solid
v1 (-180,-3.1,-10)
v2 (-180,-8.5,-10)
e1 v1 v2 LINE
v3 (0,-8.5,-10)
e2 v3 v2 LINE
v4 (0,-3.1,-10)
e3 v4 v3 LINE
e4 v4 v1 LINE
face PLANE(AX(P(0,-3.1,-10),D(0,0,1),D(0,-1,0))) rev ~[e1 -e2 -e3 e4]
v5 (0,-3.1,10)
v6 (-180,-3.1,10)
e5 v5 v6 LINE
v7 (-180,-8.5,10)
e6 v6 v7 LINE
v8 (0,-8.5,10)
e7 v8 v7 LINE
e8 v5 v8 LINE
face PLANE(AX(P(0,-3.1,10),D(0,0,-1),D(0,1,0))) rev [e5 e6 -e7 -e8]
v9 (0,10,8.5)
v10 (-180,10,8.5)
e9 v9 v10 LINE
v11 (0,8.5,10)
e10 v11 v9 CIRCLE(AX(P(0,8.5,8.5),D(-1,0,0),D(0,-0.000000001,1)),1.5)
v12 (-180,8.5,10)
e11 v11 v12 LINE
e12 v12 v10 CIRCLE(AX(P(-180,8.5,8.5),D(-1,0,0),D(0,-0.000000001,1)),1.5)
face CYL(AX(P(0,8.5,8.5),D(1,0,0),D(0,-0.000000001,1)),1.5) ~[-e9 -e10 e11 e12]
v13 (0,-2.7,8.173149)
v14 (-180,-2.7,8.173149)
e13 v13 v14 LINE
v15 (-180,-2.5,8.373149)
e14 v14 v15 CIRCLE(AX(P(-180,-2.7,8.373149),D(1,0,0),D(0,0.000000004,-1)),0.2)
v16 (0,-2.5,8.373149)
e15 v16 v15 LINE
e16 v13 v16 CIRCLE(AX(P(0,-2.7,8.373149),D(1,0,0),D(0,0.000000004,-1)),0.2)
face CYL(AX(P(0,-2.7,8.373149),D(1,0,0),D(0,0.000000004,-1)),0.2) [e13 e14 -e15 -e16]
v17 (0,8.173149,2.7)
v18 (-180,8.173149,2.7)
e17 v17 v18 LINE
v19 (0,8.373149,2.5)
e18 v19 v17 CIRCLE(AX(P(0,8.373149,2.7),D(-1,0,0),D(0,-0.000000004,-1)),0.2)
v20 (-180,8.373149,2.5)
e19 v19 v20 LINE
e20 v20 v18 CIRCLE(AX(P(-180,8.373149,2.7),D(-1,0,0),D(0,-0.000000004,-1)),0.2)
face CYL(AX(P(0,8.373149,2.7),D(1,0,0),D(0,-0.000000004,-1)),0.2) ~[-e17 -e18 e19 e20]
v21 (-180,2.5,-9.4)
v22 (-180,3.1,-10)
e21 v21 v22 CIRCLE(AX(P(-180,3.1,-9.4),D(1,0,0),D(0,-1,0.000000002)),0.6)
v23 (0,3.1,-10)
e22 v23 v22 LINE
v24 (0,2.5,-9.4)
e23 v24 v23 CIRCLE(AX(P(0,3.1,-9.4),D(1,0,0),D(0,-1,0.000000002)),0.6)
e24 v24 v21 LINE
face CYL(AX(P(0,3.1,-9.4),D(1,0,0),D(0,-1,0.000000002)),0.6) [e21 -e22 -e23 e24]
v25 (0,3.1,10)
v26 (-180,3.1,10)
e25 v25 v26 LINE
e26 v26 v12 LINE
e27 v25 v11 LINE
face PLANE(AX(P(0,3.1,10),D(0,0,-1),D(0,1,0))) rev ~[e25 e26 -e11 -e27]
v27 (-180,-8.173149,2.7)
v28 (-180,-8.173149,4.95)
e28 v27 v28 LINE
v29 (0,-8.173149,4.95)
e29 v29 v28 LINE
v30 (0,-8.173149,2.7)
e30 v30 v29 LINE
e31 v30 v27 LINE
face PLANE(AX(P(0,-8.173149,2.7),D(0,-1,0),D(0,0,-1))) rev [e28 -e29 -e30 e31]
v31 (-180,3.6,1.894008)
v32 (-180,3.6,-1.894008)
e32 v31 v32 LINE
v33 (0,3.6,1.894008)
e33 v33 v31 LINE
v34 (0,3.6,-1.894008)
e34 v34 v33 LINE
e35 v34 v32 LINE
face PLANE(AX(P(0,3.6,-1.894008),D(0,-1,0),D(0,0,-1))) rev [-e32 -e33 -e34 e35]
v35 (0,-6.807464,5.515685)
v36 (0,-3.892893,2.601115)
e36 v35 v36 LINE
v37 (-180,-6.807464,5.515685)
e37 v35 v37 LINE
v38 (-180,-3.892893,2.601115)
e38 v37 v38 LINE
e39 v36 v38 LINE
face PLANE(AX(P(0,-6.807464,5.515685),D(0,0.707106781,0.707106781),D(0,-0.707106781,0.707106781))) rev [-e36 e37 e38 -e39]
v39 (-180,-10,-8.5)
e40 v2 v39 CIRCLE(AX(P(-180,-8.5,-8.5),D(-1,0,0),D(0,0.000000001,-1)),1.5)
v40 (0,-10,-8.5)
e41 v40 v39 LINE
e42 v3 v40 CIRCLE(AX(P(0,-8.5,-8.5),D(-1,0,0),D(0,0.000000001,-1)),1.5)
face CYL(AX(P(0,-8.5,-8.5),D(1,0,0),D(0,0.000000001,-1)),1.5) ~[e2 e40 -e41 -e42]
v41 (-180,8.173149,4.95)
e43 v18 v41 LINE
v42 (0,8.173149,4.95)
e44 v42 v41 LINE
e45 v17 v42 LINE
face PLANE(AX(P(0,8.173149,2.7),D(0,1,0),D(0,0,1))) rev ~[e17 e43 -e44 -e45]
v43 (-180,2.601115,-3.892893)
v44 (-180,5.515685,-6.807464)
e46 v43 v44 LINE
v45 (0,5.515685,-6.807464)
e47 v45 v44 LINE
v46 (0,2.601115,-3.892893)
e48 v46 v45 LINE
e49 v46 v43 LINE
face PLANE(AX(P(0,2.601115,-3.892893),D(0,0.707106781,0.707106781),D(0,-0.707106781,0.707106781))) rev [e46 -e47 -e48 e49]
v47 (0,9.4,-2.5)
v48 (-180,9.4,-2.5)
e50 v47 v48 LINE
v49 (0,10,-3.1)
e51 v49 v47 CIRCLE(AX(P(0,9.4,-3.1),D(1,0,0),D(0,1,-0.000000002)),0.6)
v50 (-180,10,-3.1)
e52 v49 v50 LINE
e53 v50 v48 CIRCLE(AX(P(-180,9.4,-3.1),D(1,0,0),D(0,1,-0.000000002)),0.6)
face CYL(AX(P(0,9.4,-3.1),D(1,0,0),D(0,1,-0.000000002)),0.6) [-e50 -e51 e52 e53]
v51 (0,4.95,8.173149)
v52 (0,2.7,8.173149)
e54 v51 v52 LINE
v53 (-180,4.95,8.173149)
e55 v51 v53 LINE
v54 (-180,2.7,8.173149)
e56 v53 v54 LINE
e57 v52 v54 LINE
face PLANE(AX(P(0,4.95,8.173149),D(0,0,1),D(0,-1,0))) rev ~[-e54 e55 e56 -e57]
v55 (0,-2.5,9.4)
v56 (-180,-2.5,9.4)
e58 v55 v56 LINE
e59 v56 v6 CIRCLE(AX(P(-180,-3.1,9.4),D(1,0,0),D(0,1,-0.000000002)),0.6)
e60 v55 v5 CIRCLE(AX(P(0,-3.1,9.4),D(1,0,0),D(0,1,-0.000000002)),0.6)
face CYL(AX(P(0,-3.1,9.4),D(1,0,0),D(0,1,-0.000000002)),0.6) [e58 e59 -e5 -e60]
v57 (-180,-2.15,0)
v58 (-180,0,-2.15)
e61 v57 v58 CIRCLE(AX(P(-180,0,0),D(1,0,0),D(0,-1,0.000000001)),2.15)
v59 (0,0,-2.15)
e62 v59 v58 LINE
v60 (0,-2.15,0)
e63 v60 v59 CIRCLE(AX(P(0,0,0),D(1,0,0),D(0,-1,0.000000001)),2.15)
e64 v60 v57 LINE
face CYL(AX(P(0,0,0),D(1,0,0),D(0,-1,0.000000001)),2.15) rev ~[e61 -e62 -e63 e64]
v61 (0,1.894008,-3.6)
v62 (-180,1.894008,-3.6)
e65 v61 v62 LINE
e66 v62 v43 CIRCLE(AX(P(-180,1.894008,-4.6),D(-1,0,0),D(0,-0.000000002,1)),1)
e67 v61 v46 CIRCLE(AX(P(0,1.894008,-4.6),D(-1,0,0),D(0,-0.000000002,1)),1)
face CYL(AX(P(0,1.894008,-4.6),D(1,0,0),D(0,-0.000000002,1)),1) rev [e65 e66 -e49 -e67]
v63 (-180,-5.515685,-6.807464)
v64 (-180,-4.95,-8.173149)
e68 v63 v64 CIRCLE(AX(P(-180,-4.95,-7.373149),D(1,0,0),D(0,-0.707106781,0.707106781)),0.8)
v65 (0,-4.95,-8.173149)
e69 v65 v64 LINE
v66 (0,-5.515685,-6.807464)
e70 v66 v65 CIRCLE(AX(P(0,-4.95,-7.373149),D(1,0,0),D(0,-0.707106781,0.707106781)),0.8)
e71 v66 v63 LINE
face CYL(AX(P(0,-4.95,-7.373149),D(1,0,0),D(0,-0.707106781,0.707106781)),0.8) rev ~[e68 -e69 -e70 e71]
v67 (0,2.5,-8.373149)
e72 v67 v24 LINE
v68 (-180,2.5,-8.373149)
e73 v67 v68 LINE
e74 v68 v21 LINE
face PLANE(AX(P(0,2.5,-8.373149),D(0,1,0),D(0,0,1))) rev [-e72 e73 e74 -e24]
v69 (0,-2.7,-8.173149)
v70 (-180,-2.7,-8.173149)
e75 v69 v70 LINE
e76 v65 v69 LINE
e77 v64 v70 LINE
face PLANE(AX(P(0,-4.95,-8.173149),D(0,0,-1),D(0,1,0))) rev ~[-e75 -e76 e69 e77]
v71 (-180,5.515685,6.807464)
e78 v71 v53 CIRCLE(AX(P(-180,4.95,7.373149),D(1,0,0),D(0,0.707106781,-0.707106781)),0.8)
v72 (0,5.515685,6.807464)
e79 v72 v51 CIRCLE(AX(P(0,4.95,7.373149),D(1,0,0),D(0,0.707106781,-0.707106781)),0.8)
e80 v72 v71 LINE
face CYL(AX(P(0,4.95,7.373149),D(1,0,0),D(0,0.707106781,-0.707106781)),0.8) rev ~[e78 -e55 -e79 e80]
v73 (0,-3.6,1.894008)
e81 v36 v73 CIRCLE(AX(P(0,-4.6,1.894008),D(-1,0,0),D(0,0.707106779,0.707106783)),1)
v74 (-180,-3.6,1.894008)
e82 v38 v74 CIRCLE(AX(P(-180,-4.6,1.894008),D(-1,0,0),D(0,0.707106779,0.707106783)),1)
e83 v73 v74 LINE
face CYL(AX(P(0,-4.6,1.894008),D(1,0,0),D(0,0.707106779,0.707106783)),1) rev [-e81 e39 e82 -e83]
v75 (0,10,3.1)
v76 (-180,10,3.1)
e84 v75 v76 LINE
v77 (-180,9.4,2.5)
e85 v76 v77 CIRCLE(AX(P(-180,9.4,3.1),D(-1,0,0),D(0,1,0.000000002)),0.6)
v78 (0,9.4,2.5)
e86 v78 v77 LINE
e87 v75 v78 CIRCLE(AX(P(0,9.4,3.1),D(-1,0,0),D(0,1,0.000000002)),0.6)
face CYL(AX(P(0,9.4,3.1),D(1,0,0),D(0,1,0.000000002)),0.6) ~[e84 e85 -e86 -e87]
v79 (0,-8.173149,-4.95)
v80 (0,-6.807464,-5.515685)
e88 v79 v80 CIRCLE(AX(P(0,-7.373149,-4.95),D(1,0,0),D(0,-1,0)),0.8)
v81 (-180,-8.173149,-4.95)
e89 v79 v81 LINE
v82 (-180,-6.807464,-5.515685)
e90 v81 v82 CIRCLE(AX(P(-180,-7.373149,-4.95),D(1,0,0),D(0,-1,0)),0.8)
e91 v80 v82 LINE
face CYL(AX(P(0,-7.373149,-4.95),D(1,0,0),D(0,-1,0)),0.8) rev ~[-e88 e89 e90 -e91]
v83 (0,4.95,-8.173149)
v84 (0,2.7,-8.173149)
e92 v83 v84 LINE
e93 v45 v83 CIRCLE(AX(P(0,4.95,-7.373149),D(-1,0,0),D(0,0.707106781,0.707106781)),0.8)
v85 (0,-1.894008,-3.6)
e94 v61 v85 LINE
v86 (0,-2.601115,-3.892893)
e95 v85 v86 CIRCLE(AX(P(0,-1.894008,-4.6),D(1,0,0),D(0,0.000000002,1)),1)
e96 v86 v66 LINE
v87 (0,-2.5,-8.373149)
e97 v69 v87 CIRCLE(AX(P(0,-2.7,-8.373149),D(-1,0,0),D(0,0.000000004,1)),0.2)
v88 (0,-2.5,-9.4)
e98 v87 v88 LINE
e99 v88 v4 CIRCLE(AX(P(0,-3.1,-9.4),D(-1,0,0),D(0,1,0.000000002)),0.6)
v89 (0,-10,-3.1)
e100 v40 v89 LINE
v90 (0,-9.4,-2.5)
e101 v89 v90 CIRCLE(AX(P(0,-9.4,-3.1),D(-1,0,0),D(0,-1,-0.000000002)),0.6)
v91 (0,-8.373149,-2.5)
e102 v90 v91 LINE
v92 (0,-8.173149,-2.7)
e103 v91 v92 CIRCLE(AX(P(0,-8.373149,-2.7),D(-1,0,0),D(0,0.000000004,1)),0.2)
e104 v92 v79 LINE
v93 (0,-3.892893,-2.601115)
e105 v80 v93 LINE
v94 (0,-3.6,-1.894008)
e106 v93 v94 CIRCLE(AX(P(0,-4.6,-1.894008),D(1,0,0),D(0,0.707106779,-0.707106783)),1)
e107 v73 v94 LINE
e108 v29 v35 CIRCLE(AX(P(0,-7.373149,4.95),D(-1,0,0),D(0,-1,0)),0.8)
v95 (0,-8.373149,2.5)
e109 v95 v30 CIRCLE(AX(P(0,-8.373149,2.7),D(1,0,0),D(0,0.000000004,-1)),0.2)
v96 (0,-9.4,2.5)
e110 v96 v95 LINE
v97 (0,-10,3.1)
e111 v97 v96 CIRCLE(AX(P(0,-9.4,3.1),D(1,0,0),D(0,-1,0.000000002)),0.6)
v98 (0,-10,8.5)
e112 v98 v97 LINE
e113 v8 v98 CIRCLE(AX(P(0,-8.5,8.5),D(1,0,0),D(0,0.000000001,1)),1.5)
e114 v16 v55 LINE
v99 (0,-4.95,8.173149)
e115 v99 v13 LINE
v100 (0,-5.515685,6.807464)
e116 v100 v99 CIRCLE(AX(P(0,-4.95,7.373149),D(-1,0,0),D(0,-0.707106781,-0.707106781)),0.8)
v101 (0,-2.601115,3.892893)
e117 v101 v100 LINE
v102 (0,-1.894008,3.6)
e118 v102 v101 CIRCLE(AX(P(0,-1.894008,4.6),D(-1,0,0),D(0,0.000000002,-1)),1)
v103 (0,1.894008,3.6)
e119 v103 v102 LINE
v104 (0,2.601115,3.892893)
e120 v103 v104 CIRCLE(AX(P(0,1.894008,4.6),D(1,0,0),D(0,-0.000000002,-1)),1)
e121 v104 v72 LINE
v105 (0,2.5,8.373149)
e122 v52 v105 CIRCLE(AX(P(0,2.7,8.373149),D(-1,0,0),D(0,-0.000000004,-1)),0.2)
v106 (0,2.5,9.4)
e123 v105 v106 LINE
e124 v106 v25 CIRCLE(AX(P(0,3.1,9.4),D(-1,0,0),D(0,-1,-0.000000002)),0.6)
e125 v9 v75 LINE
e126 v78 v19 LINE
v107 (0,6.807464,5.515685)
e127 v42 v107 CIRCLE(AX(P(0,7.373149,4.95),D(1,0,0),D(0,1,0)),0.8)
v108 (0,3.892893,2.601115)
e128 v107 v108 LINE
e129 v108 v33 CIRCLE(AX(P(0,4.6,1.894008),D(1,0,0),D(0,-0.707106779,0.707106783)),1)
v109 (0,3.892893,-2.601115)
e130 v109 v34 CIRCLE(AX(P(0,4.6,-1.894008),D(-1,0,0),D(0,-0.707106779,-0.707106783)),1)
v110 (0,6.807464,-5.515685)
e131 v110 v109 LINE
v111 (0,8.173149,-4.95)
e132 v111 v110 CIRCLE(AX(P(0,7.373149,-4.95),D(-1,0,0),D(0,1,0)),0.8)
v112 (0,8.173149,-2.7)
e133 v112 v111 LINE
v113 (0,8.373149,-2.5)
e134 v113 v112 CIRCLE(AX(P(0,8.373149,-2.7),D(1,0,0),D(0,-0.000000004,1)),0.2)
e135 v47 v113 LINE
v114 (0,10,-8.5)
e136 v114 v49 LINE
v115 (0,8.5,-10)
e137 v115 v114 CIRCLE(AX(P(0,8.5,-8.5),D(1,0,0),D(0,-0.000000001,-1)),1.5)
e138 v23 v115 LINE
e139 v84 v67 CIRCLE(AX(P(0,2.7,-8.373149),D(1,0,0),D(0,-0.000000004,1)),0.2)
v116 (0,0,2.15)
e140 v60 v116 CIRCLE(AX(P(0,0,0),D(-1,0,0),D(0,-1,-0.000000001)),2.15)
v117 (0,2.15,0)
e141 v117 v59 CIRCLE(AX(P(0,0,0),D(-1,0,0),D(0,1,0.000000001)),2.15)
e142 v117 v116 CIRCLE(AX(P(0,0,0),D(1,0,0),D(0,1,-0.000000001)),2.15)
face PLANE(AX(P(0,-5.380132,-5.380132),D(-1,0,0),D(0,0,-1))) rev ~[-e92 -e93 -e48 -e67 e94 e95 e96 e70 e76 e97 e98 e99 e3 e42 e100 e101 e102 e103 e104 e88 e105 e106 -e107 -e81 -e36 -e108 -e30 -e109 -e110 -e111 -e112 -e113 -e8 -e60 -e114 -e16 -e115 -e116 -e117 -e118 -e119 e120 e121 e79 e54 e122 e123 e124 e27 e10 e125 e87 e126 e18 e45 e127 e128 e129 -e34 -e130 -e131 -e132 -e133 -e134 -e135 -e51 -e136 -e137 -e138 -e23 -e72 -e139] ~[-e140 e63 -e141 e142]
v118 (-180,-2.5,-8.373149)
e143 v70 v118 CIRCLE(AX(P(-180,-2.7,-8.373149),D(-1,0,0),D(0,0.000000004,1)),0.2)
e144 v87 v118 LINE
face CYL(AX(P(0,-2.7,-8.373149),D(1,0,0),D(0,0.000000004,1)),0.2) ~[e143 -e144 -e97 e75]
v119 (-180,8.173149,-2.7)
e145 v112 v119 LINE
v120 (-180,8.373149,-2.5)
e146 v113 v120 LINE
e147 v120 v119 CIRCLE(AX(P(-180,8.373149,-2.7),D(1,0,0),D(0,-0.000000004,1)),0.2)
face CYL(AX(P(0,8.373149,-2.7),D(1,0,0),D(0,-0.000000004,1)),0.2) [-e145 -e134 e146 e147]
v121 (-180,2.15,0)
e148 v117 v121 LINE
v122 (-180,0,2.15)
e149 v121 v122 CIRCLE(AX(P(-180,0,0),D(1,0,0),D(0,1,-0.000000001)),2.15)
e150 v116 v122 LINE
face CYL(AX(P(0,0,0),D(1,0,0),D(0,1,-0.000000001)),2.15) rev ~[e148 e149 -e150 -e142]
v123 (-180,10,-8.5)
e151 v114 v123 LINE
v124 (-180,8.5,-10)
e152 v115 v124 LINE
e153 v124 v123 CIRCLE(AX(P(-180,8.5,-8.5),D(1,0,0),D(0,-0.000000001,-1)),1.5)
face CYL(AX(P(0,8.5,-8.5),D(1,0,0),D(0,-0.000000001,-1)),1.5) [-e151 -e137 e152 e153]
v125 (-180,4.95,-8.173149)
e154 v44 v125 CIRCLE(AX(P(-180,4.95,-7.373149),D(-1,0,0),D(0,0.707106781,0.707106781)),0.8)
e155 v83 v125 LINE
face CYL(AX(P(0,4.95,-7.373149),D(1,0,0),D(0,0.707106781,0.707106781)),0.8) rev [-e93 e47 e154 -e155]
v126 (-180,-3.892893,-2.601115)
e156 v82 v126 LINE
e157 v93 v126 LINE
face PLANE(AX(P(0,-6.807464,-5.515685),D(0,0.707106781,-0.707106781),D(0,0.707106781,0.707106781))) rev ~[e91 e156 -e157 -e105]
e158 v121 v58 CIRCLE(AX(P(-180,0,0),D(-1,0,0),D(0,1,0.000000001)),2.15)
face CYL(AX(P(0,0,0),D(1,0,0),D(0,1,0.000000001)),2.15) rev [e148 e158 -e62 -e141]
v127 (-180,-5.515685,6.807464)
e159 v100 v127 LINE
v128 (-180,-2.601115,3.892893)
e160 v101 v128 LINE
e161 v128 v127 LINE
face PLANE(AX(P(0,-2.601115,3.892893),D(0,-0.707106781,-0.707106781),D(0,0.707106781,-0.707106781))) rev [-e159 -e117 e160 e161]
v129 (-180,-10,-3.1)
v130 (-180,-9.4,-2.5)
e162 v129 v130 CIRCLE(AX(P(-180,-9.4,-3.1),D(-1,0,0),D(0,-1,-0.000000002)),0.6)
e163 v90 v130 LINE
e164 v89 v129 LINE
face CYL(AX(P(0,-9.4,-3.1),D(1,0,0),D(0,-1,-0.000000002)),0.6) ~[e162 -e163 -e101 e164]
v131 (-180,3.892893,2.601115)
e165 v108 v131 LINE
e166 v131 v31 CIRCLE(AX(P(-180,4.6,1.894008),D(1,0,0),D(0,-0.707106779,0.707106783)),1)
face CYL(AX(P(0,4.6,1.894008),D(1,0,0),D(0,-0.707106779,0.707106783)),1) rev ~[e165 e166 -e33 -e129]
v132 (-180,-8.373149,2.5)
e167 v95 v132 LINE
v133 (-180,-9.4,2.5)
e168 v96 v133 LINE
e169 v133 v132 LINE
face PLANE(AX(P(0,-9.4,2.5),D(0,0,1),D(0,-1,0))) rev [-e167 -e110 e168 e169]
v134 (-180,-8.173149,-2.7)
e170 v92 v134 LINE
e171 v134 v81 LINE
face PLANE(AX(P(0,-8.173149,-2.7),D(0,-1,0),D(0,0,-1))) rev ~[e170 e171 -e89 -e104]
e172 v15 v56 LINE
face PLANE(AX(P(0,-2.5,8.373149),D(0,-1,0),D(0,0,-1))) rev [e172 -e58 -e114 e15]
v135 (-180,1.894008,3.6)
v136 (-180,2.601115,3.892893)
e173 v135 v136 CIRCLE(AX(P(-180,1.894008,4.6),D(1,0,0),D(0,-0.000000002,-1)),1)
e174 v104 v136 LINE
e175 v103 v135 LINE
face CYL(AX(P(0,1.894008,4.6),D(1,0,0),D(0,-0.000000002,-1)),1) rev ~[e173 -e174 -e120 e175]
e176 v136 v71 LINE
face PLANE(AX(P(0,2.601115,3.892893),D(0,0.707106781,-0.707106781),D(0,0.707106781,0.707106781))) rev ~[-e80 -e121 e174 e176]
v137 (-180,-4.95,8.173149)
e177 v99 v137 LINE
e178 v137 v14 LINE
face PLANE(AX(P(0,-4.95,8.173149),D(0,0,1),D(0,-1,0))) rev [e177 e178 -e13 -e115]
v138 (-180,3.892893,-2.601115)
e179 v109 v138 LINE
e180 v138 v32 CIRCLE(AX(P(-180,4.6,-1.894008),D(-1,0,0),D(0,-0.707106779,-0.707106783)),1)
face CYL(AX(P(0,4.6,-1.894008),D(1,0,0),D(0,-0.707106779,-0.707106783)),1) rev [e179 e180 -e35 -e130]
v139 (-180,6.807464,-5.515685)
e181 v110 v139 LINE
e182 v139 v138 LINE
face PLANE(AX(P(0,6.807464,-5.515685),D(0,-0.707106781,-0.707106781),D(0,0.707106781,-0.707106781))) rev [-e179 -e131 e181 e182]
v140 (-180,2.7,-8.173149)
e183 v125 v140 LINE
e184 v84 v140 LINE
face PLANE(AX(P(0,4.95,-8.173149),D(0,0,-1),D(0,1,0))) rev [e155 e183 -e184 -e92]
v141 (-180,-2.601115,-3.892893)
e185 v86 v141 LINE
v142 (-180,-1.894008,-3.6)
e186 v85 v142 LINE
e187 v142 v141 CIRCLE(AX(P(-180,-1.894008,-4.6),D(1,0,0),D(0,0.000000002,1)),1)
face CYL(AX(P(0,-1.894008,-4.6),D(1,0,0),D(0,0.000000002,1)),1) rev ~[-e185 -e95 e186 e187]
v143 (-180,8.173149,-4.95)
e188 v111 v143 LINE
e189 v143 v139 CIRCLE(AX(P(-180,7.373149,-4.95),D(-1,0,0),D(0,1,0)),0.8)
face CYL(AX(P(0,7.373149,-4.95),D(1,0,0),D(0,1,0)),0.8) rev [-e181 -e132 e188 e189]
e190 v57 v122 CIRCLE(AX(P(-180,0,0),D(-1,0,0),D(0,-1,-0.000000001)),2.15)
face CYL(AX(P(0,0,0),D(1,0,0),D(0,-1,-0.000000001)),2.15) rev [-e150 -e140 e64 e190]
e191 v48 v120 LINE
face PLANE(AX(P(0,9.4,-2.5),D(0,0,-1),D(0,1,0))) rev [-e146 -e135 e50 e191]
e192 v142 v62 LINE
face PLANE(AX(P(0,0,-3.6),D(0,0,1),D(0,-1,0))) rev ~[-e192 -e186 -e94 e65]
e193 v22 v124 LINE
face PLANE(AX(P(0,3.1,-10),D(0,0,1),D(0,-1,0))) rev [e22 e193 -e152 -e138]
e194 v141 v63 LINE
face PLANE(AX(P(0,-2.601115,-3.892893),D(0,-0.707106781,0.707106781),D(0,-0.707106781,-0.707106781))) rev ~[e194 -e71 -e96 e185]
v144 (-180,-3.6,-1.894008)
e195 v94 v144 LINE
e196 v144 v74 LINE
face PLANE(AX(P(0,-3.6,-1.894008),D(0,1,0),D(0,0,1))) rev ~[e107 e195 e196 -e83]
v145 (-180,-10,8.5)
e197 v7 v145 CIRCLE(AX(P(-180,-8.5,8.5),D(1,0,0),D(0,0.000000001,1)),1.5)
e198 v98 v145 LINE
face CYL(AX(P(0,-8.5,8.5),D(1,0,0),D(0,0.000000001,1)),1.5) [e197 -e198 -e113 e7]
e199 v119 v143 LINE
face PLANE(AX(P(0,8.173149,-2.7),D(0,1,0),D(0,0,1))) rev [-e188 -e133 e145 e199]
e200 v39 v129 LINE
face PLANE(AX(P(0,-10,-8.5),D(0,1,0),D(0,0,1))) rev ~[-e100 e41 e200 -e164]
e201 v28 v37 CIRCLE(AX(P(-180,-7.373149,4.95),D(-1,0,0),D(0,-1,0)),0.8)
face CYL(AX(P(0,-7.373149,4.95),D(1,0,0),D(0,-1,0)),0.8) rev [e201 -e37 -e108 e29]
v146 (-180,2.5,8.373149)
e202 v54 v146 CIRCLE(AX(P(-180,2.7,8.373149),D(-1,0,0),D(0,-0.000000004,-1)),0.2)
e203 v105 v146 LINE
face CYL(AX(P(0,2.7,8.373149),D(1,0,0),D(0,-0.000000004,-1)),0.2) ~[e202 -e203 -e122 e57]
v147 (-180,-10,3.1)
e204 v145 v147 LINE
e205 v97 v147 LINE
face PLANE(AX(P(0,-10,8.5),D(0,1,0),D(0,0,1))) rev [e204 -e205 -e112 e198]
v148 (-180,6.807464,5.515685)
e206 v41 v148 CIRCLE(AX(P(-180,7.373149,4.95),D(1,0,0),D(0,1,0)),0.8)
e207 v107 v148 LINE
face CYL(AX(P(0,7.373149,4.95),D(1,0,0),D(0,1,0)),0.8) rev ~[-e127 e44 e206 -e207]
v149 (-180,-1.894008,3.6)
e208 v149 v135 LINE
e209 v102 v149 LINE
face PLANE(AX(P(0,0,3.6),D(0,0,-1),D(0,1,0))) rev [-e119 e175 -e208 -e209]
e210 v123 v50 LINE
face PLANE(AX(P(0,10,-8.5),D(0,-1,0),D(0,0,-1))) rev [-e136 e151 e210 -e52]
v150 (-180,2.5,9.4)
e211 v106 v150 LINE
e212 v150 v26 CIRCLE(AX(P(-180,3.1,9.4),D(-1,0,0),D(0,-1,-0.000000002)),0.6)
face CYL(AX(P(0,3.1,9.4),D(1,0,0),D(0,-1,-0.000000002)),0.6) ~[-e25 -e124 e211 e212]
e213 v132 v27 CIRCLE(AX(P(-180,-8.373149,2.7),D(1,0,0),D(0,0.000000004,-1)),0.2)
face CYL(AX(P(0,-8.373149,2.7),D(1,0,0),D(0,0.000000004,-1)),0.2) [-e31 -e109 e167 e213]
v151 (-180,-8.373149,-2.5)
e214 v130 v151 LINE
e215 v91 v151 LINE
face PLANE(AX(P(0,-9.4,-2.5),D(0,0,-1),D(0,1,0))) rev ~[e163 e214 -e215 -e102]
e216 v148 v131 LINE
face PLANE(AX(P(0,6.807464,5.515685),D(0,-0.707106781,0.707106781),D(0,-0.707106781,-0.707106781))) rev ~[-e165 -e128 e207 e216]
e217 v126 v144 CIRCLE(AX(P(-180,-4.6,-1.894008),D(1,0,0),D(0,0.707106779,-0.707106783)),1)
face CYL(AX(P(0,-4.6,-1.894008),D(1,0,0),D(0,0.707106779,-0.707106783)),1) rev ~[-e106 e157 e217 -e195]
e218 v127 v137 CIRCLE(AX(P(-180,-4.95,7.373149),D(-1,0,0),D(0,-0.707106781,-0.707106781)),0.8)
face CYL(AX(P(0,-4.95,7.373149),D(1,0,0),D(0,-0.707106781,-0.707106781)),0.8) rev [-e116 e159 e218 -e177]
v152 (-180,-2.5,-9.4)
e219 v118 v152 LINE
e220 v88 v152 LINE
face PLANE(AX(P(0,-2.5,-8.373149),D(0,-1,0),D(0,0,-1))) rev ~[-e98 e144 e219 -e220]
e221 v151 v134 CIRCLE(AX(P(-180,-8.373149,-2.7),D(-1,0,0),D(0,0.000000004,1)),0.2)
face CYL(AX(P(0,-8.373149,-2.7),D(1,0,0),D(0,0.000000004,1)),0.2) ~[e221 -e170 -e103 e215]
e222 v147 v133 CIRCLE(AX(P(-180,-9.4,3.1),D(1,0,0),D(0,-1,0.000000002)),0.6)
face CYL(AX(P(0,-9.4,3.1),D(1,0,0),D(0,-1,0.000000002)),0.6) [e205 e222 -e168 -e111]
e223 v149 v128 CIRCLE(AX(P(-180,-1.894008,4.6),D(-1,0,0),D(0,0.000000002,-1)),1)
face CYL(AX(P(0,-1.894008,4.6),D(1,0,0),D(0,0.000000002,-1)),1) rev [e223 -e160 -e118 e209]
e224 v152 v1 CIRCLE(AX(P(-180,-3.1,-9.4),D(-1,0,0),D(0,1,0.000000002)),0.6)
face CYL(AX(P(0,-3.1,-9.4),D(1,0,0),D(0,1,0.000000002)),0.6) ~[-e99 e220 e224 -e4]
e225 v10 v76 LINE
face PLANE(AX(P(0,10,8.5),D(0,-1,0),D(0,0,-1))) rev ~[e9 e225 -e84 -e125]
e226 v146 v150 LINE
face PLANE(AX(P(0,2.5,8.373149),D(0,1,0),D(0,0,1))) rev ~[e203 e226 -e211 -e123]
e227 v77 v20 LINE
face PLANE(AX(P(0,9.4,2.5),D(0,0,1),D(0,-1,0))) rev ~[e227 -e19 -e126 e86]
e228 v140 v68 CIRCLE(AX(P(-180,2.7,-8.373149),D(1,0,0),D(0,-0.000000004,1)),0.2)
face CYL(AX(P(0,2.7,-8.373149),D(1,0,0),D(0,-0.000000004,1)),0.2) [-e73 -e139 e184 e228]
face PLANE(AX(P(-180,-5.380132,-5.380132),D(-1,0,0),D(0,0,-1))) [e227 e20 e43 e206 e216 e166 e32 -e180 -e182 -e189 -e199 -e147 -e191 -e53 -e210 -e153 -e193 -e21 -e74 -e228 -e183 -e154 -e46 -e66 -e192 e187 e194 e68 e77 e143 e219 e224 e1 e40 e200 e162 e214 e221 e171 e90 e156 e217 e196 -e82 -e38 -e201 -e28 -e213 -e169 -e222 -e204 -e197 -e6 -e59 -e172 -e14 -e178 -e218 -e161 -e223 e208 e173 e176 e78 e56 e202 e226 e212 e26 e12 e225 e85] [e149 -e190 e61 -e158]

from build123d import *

# Parameters (mm, degrees)
BOSS_EXTRUDE1_DEPTH = 180


with BuildPart() as part:
    # Sketch3 → Boss-Extrude1 (new body)
    with BuildSketch(Plane(origin=(0, 0, 0), x_dir=(0, 0, -1), z_dir=(1, 0, 0))):
        with BuildLine():
            Line((-5.515685425, 6.807463915), (-2.601114729, 3.892893219))
            ThreePointArc((-2.601114729, 3.892893219), (-2.27669138, 3.676120467), (-1.894007948, 3.6))
            Line((-1.894007948, 3.6), (0, 3.6))
            Line((0, 3.6), (0, 2.15))
            ThreePointArc((0, 2.15), (-1.52027958, 1.52027958), (-2.15, 0))
            Line((-2.15, 0), (-3.6, 0))
            Line((-3.6, 0), (-3.6, 1.894007948))
            ThreePointArc((-3.6, 1.894007948), (-3.676120467, 2.27669138), (-3.892893219, 2.601114729))
            Line((-3.892893219, 2.601114729), (-6.807463915, 5.515685425))
            ThreePointArc((-6.807463915, 5.515685425), (-7.679296086, 5.689103626), (-8.17314934, 4.95))
            Line((-8.17314934, 4.95), (-8.17314934, 2.7))
            ThreePointArc((-8.17314934, 2.7), (-8.231727984, 2.558578644), (-8.37314934, 2.5))
            Line((-8.37314934, 2.5), (-9.4, 2.5))
            ThreePointArc((-9.4, 2.5), (-9.824264069, 2.675735931), (-10, 3.1))
            Line((-10, 3.1), (-10, 8.5))
            ThreePointArc((-10, 8.5), (-9.560660172, 9.560660172), (-8.5, 10))
            Line((-8.5, 10), (-3.1, 10))
            ThreePointArc((-3.1, 10), (-2.675735931, 9.824264069), (-2.5, 9.4))
            Line((-2.5, 9.4), (-2.5, 8.37314934))
            ThreePointArc((-2.5, 8.37314934), (-2.558578644, 8.231727984), (-2.7, 8.17314934))
            Line((-2.7, 8.17314934), (-4.95, 8.17314934))
            ThreePointArc((-4.95, 8.17314934), (-5.689103626, 7.679296086), (-5.515685425, 6.807463915))
        make_face()
    extrude(amount=-BOSS_EXTRUDE1_DEPTH)

    # Mirror1: part across plane


with BuildPart() as part_1:
    add(part.part)
    add(part.part.mirror(Plane.ZX))

    # Mirror2: part across plane


with BuildPart() as part_2:
    add(part_1.part)
    add(part_1.part.mirror(Plane.XY))


solid = part_2.part
